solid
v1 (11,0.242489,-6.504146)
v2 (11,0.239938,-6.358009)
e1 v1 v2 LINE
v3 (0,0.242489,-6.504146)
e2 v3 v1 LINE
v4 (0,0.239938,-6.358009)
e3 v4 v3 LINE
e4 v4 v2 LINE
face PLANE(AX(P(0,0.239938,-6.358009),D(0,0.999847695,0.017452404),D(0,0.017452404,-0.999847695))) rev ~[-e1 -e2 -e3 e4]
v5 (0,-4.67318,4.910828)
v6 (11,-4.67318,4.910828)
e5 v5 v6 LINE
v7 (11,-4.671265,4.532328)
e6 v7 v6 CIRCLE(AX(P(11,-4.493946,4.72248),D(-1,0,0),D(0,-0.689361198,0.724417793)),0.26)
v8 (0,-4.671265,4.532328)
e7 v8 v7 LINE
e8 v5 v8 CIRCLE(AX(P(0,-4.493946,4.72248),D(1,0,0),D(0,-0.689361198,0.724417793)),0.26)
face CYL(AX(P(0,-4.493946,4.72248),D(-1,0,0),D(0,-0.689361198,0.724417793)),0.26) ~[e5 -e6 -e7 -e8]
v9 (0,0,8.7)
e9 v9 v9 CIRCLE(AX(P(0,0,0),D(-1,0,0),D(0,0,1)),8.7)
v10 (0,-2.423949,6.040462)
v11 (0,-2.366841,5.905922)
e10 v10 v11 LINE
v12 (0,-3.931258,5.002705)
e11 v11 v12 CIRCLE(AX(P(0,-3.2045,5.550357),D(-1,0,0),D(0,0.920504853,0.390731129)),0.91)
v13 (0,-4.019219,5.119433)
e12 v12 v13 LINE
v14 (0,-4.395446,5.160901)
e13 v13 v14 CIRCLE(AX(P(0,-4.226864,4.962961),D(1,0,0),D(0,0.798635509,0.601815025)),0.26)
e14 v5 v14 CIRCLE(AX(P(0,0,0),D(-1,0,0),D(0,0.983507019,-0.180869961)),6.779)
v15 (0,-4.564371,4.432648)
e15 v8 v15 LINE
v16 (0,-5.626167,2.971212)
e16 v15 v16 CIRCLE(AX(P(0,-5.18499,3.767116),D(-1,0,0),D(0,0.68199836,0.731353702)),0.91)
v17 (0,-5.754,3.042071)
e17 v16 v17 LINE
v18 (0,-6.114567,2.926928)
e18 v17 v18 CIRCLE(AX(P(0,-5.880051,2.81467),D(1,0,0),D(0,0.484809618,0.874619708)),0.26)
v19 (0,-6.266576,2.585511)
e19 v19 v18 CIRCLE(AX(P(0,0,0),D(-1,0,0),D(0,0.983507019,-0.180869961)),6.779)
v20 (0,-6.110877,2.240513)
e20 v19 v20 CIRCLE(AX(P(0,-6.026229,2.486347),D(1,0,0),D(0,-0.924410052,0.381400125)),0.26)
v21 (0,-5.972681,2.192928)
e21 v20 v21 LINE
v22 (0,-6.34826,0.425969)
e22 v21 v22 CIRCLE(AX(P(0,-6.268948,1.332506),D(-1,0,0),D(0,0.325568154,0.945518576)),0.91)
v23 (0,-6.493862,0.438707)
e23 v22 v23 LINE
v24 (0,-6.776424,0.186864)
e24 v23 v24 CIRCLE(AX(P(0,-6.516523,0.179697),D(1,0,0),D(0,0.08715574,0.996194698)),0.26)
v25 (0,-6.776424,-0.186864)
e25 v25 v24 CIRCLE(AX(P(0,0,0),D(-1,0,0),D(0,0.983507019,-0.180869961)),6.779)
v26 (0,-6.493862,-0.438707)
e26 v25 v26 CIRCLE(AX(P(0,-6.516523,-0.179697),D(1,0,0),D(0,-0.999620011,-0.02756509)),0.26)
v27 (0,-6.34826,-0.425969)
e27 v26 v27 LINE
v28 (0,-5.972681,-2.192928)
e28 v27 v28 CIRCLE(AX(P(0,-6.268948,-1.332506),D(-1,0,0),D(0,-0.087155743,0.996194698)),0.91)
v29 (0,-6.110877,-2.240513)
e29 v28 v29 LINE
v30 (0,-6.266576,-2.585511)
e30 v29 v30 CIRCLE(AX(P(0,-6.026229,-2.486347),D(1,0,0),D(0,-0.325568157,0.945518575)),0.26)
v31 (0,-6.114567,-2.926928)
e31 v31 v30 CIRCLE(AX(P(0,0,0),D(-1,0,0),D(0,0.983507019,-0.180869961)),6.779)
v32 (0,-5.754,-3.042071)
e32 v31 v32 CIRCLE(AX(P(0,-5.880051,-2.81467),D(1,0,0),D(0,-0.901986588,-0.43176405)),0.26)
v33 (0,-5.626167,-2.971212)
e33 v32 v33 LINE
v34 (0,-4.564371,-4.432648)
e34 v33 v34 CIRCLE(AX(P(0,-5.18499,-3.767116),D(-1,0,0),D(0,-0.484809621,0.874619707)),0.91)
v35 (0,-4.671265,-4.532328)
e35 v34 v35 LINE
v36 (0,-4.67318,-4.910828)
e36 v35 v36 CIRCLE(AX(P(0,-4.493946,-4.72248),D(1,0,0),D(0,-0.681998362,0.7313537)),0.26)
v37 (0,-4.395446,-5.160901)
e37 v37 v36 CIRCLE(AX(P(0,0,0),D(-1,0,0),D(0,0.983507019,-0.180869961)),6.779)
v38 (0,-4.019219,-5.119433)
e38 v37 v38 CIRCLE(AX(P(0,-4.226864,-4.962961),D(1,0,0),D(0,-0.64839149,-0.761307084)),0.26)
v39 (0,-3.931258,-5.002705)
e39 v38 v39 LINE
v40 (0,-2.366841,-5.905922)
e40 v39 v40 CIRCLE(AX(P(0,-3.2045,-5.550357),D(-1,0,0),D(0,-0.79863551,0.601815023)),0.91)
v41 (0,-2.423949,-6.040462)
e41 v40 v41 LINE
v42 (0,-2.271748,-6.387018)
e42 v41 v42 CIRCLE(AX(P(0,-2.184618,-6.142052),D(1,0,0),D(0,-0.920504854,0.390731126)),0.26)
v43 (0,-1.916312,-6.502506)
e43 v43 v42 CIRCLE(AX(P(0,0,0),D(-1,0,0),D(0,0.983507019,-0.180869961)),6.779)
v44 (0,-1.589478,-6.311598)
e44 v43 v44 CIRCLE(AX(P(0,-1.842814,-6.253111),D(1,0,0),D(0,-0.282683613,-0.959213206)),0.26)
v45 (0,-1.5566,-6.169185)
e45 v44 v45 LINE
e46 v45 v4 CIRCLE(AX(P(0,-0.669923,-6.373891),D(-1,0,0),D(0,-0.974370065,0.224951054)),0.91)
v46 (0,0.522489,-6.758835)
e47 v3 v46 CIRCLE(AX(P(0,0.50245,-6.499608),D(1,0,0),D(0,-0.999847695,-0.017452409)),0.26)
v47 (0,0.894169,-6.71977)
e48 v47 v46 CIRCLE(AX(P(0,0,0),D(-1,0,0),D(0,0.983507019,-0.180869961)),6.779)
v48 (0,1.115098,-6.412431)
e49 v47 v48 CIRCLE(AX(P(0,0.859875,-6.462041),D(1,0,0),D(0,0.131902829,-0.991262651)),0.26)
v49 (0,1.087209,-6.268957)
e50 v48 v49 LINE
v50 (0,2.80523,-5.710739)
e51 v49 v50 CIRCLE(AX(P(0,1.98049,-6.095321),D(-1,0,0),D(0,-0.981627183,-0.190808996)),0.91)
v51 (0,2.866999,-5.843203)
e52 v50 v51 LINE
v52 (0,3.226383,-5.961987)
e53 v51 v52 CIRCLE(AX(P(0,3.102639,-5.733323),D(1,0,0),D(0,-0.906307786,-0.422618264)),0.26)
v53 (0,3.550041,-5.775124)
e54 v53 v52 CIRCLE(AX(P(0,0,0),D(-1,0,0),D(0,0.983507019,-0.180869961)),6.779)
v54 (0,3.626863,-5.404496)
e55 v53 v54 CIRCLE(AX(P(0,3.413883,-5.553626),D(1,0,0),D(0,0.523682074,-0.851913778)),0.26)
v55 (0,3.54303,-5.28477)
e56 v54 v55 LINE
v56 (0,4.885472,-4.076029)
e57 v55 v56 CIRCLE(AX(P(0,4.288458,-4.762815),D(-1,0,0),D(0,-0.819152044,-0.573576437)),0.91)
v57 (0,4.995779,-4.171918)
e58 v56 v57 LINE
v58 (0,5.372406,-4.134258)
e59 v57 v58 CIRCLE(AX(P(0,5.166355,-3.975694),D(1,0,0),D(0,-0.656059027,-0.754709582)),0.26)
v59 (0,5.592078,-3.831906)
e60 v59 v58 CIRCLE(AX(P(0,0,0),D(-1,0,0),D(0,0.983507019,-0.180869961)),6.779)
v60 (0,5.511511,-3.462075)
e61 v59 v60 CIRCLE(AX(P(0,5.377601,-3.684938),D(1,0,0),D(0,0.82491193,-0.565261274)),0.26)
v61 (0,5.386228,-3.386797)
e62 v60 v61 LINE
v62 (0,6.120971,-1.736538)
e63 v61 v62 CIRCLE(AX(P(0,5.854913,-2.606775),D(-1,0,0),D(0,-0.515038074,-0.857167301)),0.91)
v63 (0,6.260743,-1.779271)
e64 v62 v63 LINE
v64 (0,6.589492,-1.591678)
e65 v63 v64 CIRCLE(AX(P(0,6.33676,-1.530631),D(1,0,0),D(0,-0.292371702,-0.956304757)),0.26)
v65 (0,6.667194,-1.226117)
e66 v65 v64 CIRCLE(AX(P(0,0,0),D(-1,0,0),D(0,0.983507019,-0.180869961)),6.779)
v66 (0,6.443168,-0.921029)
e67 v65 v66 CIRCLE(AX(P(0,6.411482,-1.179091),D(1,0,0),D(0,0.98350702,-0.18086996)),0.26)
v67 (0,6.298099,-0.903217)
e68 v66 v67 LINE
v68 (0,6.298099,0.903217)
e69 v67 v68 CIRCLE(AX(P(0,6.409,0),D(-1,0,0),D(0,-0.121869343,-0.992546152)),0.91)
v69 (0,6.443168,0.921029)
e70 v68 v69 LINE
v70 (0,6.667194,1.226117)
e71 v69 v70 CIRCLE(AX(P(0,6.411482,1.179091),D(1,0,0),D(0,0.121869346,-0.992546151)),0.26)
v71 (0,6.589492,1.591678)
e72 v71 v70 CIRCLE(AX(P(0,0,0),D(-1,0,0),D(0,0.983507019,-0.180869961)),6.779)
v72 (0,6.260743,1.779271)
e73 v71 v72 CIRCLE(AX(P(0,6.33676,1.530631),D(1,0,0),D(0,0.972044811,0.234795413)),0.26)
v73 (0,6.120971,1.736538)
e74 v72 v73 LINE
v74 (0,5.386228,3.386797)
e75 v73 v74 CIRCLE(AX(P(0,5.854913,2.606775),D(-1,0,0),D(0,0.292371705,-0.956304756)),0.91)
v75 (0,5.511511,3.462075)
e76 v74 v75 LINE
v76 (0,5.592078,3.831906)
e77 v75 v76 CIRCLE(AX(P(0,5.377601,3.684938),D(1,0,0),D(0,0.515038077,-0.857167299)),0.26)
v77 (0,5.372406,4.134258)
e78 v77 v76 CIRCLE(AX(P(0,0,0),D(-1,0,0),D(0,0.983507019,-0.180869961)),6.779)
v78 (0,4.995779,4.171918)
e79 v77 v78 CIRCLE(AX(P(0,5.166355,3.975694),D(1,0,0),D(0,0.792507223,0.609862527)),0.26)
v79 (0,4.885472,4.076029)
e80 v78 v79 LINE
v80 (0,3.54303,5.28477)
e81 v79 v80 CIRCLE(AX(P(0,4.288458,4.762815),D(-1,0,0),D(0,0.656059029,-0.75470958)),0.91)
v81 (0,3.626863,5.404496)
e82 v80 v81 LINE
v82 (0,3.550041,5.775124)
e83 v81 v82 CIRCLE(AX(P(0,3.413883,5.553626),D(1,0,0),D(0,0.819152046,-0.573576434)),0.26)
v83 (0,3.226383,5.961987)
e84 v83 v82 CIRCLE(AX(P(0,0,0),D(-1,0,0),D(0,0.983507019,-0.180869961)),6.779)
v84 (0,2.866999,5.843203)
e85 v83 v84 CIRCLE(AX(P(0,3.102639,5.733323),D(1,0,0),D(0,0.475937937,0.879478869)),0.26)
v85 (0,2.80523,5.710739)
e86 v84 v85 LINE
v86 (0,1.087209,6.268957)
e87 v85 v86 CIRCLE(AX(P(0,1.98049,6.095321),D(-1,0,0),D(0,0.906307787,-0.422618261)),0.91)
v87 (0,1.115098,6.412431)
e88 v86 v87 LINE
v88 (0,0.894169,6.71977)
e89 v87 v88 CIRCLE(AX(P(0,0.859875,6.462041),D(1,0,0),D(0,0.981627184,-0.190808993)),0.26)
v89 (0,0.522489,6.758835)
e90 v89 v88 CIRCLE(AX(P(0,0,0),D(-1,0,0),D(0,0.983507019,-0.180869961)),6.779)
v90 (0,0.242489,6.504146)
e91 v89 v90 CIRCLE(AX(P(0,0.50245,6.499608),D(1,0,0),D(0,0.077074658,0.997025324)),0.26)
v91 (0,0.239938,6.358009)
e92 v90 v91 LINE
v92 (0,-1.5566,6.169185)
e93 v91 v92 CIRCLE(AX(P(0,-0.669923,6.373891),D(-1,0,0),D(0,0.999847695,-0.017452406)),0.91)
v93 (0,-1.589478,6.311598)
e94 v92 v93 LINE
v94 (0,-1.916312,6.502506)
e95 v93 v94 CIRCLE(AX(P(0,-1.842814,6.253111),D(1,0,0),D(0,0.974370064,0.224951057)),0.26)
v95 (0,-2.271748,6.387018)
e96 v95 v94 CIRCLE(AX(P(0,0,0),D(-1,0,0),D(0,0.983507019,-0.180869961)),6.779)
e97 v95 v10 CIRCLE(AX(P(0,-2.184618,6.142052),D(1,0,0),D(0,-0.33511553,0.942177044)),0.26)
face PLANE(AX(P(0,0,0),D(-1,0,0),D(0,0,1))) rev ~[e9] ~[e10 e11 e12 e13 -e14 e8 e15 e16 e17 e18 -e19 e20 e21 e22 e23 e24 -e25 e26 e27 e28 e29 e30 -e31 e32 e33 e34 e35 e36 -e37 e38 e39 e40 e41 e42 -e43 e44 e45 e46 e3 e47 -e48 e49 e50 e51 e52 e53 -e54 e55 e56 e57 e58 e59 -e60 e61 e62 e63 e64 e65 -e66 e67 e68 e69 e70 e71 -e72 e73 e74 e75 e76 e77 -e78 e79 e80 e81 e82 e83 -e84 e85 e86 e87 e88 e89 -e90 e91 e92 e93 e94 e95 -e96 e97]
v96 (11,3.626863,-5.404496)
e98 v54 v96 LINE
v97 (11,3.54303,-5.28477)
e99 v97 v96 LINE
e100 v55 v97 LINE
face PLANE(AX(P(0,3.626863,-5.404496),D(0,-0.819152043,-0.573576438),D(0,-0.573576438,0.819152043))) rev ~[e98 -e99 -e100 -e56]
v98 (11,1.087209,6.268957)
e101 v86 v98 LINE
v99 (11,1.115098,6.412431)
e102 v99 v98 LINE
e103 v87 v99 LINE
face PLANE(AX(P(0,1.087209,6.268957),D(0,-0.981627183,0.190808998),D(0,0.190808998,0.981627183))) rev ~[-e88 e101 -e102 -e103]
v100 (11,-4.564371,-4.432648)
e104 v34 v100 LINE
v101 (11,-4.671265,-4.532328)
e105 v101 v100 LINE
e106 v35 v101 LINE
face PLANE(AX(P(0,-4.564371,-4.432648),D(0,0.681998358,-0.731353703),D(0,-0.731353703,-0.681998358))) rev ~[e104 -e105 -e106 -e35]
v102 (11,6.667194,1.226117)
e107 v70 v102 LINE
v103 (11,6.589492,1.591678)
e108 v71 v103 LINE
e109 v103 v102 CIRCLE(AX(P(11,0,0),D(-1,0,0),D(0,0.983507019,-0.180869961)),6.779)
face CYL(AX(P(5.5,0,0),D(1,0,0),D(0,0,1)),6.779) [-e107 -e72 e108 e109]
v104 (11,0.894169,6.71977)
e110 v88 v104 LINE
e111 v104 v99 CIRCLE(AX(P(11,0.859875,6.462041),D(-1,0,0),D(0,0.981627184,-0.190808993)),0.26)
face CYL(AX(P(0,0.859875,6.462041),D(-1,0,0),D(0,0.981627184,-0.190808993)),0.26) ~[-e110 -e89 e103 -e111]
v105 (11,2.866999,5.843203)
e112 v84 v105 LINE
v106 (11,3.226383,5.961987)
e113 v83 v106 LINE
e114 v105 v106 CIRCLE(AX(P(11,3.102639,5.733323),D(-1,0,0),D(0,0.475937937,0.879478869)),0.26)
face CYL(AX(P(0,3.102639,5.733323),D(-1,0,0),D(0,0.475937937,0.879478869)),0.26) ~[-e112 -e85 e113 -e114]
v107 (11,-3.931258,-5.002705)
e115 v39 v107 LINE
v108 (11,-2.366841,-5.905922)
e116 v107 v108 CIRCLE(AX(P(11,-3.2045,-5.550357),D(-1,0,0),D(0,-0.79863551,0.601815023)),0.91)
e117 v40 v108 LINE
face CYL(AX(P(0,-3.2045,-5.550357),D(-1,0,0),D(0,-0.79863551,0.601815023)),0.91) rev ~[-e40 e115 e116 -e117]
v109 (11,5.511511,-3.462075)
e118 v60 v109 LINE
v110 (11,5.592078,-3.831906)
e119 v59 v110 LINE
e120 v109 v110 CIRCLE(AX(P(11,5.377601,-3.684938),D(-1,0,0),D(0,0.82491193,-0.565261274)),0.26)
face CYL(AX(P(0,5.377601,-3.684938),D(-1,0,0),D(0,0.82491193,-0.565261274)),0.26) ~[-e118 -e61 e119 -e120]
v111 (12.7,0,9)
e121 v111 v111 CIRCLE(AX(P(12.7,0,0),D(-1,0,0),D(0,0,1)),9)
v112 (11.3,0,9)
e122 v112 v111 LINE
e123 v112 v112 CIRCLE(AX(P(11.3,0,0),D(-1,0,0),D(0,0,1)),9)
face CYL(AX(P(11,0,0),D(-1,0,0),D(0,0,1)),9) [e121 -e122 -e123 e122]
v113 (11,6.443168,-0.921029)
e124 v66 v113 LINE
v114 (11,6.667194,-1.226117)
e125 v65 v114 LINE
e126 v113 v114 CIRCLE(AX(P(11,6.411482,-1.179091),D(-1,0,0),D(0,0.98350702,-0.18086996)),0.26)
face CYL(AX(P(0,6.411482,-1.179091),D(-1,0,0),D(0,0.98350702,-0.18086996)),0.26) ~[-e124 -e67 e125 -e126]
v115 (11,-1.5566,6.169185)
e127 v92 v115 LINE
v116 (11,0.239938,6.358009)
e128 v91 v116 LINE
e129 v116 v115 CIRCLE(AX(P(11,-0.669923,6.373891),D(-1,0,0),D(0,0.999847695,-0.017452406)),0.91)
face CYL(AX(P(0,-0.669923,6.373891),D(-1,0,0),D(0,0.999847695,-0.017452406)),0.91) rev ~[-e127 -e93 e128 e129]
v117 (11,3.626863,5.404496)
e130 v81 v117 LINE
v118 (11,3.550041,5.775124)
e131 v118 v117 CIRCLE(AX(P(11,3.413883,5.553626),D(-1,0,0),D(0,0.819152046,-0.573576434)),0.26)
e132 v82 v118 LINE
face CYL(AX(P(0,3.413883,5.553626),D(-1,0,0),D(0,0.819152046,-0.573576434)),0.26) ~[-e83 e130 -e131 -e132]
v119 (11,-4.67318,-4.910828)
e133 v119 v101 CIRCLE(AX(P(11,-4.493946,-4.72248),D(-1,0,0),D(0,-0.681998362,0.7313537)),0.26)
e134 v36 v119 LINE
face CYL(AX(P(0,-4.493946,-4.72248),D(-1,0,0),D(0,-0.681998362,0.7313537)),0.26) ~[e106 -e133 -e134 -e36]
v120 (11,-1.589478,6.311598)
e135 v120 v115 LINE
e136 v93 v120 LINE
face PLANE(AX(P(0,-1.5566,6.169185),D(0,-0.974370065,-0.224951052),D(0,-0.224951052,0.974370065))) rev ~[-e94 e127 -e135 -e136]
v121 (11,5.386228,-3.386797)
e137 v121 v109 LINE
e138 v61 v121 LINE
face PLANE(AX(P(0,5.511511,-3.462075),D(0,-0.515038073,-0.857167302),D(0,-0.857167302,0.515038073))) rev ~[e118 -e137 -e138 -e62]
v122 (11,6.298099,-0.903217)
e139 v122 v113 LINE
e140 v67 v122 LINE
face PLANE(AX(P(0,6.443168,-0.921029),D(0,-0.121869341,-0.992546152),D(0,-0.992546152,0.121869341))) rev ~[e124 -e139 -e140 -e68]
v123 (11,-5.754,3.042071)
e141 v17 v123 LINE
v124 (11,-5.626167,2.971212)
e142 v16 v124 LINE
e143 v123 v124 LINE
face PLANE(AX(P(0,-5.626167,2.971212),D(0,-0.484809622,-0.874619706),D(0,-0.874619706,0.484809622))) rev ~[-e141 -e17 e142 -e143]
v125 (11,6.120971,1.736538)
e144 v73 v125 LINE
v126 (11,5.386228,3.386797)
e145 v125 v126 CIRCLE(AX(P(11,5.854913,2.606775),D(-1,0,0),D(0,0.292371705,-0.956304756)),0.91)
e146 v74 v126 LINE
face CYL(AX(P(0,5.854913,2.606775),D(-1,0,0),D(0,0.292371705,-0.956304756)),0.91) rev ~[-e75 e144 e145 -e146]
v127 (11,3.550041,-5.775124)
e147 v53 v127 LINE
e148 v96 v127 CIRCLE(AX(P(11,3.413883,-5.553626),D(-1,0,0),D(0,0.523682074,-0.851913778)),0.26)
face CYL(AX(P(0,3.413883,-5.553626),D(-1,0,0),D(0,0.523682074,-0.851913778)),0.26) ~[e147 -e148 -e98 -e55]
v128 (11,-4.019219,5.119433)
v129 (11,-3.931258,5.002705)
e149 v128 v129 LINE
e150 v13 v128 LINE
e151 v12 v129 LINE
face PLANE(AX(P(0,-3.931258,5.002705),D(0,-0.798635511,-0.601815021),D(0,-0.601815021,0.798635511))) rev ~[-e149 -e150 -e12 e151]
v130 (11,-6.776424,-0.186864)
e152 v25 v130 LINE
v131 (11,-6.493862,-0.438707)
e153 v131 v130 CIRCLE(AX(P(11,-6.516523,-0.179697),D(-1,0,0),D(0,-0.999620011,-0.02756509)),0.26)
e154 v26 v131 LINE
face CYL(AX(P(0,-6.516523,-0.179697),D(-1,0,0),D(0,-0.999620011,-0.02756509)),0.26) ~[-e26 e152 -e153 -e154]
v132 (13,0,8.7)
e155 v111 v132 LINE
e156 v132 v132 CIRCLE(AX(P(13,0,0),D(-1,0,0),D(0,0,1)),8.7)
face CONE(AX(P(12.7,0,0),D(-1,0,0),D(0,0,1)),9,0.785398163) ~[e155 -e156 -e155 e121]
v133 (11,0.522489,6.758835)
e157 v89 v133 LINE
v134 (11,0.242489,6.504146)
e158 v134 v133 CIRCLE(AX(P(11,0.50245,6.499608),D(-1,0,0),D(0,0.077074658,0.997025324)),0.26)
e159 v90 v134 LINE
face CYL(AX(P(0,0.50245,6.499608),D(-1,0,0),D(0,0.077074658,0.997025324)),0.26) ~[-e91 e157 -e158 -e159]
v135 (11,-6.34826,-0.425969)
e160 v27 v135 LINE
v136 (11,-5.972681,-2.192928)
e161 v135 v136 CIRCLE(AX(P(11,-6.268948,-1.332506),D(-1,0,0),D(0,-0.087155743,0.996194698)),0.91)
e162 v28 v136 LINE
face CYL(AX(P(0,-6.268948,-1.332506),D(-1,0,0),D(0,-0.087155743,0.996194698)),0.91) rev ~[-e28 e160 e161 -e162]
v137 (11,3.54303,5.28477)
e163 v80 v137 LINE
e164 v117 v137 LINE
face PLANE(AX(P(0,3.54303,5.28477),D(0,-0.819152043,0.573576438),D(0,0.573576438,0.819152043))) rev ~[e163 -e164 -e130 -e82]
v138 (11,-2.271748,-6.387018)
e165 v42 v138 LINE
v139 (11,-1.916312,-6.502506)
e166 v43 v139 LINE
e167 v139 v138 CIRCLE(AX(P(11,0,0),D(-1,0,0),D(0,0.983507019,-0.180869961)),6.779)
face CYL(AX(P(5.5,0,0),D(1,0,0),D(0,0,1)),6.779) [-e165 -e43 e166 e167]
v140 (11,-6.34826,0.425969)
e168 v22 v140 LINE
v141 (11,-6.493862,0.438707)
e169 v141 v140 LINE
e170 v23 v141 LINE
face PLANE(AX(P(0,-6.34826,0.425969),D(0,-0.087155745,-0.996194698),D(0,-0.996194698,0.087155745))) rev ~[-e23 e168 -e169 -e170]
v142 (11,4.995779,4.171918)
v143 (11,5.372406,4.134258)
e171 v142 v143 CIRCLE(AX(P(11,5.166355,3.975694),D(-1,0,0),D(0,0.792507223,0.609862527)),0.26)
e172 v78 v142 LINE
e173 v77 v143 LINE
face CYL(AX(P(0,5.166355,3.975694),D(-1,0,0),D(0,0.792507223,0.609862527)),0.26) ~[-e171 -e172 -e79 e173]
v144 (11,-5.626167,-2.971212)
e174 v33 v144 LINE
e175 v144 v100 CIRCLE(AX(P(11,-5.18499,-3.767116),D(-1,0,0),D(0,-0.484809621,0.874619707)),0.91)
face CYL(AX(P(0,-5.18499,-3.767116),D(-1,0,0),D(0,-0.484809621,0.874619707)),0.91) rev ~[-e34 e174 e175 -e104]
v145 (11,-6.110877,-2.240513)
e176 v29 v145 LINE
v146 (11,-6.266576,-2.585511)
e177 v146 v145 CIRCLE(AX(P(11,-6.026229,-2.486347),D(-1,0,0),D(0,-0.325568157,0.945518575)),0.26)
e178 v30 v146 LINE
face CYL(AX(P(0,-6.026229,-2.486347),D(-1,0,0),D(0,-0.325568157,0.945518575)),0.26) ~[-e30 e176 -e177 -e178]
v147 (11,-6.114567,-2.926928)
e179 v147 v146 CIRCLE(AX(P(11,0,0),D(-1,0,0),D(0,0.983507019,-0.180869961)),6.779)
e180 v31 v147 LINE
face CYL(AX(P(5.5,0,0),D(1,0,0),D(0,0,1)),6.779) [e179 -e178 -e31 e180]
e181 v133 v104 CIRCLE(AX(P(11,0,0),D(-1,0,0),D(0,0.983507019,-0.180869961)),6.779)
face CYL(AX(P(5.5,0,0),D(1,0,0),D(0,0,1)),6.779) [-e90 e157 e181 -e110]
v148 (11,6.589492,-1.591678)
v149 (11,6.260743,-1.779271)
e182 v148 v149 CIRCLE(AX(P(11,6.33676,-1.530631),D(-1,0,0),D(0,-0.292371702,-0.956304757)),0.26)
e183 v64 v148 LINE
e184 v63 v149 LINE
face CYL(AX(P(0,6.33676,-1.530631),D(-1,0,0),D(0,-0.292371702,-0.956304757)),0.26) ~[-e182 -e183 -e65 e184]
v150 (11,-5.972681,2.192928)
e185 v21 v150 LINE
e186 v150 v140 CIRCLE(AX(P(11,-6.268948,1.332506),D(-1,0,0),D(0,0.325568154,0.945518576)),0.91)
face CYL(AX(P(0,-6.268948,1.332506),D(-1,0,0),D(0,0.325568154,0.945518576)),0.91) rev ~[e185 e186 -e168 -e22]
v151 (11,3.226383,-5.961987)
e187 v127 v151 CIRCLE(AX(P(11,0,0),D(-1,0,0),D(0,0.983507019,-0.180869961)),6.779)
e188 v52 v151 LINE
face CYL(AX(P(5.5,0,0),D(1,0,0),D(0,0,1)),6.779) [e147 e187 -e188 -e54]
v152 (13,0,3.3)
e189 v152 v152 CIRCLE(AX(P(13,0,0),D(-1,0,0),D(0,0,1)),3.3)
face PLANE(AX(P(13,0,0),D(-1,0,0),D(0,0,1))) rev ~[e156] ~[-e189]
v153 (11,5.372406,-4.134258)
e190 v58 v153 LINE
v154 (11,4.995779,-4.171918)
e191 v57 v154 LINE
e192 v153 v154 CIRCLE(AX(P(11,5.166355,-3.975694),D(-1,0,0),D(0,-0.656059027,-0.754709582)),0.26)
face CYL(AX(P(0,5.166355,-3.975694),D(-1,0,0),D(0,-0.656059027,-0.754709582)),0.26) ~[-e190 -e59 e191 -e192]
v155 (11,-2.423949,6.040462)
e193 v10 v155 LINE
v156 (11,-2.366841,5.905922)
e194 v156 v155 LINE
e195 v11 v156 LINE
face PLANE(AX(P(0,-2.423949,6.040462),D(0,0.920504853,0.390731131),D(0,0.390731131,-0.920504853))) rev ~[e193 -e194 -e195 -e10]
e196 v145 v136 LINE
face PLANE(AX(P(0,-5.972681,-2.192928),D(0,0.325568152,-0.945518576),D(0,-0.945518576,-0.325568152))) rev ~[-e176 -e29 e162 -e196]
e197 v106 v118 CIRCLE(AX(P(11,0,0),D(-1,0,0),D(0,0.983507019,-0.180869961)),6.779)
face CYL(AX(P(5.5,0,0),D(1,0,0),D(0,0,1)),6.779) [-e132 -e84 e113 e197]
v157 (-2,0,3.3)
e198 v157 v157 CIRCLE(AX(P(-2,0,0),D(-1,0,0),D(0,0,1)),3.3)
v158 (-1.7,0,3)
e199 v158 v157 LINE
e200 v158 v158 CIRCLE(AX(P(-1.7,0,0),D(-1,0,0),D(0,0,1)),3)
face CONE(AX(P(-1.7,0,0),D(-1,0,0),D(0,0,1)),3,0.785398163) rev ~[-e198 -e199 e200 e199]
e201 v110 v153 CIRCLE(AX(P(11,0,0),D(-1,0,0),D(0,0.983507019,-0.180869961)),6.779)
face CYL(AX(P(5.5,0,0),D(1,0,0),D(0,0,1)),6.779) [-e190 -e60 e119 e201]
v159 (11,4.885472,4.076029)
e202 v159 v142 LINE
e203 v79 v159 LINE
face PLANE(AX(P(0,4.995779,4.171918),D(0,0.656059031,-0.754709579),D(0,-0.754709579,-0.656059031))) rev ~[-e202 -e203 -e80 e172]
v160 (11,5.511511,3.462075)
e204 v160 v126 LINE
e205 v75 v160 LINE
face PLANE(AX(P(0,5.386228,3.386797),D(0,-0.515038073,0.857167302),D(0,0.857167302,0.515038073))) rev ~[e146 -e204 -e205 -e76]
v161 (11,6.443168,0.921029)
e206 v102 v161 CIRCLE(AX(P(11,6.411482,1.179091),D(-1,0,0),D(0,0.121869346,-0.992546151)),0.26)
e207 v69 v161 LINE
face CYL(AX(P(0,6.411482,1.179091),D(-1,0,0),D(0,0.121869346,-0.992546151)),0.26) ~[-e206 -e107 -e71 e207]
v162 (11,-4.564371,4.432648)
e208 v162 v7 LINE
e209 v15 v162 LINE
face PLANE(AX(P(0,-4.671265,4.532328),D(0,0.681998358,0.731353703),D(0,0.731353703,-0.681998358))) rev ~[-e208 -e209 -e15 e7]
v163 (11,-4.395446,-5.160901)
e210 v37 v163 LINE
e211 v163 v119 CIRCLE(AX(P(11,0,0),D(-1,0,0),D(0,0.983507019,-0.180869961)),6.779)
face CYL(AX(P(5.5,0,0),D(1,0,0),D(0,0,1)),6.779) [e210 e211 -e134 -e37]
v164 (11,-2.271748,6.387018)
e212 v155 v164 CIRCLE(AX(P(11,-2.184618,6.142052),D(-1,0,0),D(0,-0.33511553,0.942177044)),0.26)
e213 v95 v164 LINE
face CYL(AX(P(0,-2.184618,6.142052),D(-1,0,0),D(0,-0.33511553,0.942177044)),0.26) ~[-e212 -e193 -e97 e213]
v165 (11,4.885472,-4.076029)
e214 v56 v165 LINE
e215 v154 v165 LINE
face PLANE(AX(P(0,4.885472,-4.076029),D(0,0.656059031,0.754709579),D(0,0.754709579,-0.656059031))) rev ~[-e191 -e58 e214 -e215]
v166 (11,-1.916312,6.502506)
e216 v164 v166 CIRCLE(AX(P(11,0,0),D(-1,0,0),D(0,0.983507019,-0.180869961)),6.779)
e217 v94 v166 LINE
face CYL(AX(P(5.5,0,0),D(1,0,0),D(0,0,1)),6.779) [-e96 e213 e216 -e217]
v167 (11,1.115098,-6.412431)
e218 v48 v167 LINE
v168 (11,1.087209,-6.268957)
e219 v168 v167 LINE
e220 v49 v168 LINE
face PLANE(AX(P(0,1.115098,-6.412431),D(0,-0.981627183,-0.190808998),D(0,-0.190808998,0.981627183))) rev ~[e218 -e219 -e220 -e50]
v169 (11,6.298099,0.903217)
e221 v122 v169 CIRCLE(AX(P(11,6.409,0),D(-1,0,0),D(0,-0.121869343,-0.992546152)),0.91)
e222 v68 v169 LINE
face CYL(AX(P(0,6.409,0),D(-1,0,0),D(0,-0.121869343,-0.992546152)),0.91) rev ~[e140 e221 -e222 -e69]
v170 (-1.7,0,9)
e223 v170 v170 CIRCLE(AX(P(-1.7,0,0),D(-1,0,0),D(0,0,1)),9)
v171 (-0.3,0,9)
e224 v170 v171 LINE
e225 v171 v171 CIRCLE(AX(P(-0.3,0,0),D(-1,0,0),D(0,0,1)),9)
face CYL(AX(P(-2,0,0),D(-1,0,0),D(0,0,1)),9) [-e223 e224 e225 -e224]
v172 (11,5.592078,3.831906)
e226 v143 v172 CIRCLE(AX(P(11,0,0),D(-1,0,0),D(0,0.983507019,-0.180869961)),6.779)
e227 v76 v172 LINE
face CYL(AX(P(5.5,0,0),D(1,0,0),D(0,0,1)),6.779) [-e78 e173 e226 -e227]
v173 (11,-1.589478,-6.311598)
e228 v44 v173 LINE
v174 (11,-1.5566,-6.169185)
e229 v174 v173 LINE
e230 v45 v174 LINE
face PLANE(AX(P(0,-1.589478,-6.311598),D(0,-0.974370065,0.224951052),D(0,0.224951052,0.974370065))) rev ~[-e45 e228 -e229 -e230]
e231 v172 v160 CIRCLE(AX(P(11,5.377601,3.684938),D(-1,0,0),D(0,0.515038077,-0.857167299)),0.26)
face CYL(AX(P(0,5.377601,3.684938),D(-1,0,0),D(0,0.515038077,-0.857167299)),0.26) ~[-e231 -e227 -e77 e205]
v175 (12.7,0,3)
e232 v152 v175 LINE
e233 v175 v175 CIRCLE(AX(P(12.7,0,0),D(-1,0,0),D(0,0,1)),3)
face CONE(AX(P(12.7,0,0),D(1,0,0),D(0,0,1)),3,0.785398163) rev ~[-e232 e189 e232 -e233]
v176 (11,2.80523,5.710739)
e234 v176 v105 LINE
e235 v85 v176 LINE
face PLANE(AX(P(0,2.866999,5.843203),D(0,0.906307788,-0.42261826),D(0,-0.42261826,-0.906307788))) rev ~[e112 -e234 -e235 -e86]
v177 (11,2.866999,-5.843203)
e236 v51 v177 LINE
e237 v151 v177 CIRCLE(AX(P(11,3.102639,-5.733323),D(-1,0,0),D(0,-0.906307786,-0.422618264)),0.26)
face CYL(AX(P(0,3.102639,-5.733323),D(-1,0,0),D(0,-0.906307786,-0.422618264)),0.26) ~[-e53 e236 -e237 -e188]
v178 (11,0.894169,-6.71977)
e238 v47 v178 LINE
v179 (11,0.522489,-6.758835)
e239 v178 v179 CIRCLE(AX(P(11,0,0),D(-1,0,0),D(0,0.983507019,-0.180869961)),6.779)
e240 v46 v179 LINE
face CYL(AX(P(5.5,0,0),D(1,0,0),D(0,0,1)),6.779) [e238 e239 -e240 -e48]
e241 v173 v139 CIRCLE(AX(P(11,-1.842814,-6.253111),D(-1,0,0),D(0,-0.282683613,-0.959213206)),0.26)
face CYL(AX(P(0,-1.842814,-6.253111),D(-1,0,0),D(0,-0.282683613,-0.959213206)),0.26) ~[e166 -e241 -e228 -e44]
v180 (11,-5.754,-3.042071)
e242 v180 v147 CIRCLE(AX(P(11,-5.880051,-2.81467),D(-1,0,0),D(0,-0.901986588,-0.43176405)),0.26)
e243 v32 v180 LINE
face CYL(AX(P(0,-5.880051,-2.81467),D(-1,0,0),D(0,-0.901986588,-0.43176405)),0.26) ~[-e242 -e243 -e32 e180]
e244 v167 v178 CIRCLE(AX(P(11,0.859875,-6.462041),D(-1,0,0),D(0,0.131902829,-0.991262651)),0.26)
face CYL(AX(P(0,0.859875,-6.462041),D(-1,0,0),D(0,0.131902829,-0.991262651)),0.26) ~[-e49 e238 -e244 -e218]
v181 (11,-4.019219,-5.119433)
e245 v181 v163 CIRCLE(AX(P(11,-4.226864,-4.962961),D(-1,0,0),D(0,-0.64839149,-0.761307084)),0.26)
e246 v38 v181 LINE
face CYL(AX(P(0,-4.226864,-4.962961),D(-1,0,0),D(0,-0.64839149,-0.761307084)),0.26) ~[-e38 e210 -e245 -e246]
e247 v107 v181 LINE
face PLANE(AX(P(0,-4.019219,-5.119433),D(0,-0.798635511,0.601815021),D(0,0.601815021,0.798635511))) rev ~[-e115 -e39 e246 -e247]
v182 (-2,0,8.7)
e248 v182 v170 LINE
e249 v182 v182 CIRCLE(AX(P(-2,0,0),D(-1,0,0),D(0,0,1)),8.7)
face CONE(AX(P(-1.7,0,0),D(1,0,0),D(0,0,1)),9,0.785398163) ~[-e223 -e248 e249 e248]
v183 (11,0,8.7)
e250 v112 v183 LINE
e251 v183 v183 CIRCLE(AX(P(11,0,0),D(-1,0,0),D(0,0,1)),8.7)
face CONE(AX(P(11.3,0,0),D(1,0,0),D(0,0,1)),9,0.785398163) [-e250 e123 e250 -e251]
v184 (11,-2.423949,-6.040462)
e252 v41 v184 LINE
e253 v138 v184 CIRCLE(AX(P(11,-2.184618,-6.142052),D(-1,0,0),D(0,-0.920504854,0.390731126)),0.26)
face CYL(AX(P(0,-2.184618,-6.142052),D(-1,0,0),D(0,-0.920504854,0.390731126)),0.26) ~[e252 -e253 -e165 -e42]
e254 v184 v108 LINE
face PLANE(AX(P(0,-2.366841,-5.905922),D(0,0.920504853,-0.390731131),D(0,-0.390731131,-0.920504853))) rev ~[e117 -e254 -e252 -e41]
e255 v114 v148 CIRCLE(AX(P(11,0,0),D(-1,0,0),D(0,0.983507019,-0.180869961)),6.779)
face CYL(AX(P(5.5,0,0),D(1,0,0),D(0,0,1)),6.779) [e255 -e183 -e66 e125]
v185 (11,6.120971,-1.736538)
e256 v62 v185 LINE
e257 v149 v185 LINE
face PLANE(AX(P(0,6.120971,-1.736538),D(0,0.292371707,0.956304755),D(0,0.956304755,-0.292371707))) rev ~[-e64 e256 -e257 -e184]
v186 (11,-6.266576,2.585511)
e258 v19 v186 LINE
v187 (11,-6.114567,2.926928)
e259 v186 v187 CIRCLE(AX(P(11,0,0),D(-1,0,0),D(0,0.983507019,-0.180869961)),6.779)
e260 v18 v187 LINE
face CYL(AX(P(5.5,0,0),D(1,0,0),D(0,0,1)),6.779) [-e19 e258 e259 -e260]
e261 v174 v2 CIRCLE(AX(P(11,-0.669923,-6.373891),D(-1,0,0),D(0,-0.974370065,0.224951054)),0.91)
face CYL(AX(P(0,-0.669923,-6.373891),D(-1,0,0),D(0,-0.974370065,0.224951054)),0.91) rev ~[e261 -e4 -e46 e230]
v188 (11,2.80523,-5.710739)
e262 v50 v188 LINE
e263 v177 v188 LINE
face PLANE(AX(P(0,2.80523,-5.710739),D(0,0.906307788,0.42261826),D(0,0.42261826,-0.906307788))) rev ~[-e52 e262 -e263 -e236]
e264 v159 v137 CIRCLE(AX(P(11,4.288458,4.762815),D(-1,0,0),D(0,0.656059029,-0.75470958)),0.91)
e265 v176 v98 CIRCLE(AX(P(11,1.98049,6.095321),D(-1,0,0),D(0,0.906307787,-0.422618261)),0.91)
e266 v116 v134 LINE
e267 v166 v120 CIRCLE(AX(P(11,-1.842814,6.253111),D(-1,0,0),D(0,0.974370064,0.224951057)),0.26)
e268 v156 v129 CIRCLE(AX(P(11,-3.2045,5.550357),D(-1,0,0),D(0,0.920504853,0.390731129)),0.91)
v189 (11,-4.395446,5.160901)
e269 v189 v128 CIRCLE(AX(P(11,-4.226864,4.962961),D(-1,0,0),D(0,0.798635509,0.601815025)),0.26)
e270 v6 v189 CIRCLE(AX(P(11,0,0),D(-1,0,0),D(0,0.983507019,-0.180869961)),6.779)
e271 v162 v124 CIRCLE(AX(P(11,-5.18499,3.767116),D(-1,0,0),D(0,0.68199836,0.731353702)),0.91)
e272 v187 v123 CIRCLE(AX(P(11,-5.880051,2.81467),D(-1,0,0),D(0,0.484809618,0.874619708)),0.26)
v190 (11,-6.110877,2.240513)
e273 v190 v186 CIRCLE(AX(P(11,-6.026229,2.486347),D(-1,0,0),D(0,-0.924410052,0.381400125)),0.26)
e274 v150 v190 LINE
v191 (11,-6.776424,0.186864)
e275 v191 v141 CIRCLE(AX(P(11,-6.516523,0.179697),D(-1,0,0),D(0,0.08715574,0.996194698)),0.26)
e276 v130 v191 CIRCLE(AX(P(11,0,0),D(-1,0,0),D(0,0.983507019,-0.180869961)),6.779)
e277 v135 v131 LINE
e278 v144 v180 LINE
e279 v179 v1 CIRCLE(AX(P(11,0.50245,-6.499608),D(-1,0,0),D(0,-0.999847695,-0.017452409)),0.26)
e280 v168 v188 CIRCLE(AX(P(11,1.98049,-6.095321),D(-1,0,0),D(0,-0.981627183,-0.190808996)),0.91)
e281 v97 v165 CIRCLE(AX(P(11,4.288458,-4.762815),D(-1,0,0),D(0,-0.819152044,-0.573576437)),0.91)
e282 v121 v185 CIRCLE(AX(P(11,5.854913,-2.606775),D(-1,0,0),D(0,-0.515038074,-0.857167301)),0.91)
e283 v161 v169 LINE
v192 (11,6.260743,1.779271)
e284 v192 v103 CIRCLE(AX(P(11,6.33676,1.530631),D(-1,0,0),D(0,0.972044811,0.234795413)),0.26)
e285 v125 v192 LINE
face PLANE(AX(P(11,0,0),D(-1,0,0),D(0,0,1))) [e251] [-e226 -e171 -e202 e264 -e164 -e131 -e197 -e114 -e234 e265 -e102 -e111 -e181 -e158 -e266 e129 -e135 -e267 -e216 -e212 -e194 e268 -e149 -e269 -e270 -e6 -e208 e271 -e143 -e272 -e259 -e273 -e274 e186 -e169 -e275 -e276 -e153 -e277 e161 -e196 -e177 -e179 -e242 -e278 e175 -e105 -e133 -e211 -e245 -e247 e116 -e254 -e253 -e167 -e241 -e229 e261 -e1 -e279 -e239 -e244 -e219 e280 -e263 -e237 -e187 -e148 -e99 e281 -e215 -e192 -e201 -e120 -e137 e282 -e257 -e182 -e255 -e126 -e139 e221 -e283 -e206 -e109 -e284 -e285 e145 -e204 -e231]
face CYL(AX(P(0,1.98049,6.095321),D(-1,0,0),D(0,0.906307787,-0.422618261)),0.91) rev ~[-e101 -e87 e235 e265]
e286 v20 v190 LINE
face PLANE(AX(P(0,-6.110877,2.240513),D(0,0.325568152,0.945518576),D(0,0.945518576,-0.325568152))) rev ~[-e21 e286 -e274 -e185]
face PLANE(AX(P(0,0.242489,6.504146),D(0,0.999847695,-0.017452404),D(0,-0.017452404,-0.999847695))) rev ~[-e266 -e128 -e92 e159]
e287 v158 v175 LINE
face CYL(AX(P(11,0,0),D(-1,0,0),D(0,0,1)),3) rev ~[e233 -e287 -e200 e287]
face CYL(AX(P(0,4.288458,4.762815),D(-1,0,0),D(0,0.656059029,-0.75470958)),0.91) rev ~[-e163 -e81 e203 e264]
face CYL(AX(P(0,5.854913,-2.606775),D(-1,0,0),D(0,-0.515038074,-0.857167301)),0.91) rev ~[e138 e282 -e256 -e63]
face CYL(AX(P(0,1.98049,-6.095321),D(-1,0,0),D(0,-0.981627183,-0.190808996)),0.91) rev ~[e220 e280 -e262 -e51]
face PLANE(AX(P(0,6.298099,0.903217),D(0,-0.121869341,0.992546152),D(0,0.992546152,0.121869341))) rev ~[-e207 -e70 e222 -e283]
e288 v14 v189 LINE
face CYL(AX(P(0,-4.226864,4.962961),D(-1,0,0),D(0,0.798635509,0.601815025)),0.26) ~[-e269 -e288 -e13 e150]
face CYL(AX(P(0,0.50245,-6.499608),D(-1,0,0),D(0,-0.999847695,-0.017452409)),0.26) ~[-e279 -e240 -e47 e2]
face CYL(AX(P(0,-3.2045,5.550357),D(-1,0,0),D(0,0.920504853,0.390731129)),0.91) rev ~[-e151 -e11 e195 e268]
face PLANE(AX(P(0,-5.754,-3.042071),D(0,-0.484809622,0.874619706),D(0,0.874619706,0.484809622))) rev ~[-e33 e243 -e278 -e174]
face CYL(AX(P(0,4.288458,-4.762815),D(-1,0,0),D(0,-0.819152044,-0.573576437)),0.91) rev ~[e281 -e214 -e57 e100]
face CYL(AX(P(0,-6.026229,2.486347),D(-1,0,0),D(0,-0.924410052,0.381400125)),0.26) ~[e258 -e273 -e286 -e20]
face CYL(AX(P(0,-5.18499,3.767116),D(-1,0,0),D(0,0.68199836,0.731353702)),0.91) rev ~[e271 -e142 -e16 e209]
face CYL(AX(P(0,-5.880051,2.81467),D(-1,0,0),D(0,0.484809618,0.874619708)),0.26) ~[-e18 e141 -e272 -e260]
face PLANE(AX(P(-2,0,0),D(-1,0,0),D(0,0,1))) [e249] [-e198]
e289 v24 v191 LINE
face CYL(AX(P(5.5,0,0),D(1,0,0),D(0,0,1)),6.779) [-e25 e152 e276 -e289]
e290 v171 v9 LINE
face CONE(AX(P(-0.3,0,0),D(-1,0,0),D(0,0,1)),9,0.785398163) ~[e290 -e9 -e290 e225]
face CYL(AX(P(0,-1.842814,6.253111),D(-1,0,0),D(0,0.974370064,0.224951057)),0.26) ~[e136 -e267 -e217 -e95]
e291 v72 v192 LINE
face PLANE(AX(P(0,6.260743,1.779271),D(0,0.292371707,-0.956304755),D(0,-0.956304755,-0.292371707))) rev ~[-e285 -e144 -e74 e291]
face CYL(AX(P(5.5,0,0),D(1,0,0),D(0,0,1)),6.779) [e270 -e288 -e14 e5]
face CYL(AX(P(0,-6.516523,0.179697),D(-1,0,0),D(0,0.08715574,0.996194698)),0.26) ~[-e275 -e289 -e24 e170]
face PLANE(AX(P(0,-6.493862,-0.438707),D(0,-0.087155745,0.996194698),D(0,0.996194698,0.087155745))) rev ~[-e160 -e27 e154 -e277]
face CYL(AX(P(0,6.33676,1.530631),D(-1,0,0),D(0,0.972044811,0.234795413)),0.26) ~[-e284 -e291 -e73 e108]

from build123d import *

# Parameters (mm, degrees)
SKETCH_1_W               = 11
SKETCH_1_H               = 3.779
CUT_EXTRUDE_2_REACH      = 16.591
PATTERN_CIRCULAR_3_COUNT = 15
EXTRUDE_START            = 2
SKETCH_7_R               = 9
SKETCH_7_R_2             = 3
EXTRUDE_1_DEPTH          = 2
EXTRUDE_START_2          = -11
SKETCH_7_2_R             = 9
SKETCH_7_2_R_2           = 3
EXTRUDE_2_DEPTH          = 2
CHAMFER_1_SIZE           = 0.3


with BuildPart() as part:
    # 草图1 → 旋转1 (revolve)
    with BuildSketch(Plane.XY, mode=Mode.PRIVATE) as revolve_1_sk:
        with Locations((5.5, 4.8895)):
            Rectangle(SKETCH_1_W, SKETCH_1_H)
    revolve(revolve_1_sk.sketch.rotate(Axis((0, 0, 0), (1, 0, 0)), 90), axis=Axis((0, 0, 0), (1, 0, 0)))

    # 草图6 → 切除-拉伸2 (cut, up to next)
    with BuildSketch(Plane(origin=(0, 0, 0), x_dir=(0, 0, -1), z_dir=(1, 0, 0)), mode=Mode.PRIVATE) as cut_extrude_2_sk1:
        with BuildLine():
            Line((0.921029279, 6.443168288), (0.903216998, 6.298098898))
            ThreePointArc((0.903216998, 6.298098898), (0, 5.499), (-0.903216998, 6.298098898))
            Line((-0.903216998, 6.298098898), (-0.921029279, 6.443168288))
            ThreePointArc((-0.921029279, 6.443168288), (-1.025205225, 6.62105106), (-1.226117469, 6.667194084))
            ThreePointArc((-1.226117469, 6.667194084), (-1.353747907, 6.642454938), (-1.480880455, 6.615272789))
            Line((-1.480880455, 6.615272789), (-1.677528444, 8.216842132))
            ThreePointArc((-1.677528444, 8.216842132), (0, 8.386333901), (1.677528444, 8.216842132))
            Line((1.677528444, 8.216842132), (1.480880455, 6.615272789))
            ThreePointArc((1.480880455, 6.615272789), (1.353747907, 6.642454938), (1.226117469, 6.667194084))
            ThreePointArc((1.226117469, 6.667194084), (1.025205225, 6.62105106), (0.921029279, 6.443168288))
        make_face()
    cut_extrude_2_tool1 = extrude(cut_extrude_2_sk1.sketch, amount=CUT_EXTRUDE_2_REACH, mode=Mode.PRIVATE) & part.part
    cut_extrude_2 = cut_extrude_2_tool1.solids().sort_by_distance((0, 7.172733, 0))[0]
    add(cut_extrude_2, mode=Mode.SUBTRACT)

    # 阵列(圆周)3: 切除-拉伸2 ×15 about axis
    pattern_circular_3_axis = Axis((0, 0, 0), (1, 0, 0))
    for i in range(1, PATTERN_CIRCULAR_3_COUNT):
        add(cut_extrude_2.rotate(pattern_circular_3_axis, i * 360 / PATTERN_CIRCULAR_3_COUNT), mode=Mode.SUBTRACT)

    # 草图7 → 凸台-拉伸1 (add)
    with BuildSketch(Plane.ZY.offset(EXTRUDE_START)):
        Circle(SKETCH_7_R)
        Circle(SKETCH_7_R_2, mode=Mode.SUBTRACT)
    extrude(amount=-EXTRUDE_1_DEPTH)

    # 草图7<2> → 凸台-拉伸2 (add)
    with BuildSketch(Plane.ZY.offset(EXTRUDE_START_2)):
        Circle(SKETCH_7_2_R)
        Circle(SKETCH_7_2_R_2, mode=Mode.SUBTRACT)
    extrude(amount=-EXTRUDE_2_DEPTH)

    # 倒角1
    chamfer_1_edges = [part.edges().sort_by_distance(p)[0] for p in [
        (-2, 0, -9),
        (0, 0, -9),
        (-2, 0, -3),
        (13, 0, -9),
        (13, 0, -3),
        (11, 0, -9),
    ]]
    chamfer(chamfer_1_edges, length=CHAMFER_1_SIZE)


solid = part.part
